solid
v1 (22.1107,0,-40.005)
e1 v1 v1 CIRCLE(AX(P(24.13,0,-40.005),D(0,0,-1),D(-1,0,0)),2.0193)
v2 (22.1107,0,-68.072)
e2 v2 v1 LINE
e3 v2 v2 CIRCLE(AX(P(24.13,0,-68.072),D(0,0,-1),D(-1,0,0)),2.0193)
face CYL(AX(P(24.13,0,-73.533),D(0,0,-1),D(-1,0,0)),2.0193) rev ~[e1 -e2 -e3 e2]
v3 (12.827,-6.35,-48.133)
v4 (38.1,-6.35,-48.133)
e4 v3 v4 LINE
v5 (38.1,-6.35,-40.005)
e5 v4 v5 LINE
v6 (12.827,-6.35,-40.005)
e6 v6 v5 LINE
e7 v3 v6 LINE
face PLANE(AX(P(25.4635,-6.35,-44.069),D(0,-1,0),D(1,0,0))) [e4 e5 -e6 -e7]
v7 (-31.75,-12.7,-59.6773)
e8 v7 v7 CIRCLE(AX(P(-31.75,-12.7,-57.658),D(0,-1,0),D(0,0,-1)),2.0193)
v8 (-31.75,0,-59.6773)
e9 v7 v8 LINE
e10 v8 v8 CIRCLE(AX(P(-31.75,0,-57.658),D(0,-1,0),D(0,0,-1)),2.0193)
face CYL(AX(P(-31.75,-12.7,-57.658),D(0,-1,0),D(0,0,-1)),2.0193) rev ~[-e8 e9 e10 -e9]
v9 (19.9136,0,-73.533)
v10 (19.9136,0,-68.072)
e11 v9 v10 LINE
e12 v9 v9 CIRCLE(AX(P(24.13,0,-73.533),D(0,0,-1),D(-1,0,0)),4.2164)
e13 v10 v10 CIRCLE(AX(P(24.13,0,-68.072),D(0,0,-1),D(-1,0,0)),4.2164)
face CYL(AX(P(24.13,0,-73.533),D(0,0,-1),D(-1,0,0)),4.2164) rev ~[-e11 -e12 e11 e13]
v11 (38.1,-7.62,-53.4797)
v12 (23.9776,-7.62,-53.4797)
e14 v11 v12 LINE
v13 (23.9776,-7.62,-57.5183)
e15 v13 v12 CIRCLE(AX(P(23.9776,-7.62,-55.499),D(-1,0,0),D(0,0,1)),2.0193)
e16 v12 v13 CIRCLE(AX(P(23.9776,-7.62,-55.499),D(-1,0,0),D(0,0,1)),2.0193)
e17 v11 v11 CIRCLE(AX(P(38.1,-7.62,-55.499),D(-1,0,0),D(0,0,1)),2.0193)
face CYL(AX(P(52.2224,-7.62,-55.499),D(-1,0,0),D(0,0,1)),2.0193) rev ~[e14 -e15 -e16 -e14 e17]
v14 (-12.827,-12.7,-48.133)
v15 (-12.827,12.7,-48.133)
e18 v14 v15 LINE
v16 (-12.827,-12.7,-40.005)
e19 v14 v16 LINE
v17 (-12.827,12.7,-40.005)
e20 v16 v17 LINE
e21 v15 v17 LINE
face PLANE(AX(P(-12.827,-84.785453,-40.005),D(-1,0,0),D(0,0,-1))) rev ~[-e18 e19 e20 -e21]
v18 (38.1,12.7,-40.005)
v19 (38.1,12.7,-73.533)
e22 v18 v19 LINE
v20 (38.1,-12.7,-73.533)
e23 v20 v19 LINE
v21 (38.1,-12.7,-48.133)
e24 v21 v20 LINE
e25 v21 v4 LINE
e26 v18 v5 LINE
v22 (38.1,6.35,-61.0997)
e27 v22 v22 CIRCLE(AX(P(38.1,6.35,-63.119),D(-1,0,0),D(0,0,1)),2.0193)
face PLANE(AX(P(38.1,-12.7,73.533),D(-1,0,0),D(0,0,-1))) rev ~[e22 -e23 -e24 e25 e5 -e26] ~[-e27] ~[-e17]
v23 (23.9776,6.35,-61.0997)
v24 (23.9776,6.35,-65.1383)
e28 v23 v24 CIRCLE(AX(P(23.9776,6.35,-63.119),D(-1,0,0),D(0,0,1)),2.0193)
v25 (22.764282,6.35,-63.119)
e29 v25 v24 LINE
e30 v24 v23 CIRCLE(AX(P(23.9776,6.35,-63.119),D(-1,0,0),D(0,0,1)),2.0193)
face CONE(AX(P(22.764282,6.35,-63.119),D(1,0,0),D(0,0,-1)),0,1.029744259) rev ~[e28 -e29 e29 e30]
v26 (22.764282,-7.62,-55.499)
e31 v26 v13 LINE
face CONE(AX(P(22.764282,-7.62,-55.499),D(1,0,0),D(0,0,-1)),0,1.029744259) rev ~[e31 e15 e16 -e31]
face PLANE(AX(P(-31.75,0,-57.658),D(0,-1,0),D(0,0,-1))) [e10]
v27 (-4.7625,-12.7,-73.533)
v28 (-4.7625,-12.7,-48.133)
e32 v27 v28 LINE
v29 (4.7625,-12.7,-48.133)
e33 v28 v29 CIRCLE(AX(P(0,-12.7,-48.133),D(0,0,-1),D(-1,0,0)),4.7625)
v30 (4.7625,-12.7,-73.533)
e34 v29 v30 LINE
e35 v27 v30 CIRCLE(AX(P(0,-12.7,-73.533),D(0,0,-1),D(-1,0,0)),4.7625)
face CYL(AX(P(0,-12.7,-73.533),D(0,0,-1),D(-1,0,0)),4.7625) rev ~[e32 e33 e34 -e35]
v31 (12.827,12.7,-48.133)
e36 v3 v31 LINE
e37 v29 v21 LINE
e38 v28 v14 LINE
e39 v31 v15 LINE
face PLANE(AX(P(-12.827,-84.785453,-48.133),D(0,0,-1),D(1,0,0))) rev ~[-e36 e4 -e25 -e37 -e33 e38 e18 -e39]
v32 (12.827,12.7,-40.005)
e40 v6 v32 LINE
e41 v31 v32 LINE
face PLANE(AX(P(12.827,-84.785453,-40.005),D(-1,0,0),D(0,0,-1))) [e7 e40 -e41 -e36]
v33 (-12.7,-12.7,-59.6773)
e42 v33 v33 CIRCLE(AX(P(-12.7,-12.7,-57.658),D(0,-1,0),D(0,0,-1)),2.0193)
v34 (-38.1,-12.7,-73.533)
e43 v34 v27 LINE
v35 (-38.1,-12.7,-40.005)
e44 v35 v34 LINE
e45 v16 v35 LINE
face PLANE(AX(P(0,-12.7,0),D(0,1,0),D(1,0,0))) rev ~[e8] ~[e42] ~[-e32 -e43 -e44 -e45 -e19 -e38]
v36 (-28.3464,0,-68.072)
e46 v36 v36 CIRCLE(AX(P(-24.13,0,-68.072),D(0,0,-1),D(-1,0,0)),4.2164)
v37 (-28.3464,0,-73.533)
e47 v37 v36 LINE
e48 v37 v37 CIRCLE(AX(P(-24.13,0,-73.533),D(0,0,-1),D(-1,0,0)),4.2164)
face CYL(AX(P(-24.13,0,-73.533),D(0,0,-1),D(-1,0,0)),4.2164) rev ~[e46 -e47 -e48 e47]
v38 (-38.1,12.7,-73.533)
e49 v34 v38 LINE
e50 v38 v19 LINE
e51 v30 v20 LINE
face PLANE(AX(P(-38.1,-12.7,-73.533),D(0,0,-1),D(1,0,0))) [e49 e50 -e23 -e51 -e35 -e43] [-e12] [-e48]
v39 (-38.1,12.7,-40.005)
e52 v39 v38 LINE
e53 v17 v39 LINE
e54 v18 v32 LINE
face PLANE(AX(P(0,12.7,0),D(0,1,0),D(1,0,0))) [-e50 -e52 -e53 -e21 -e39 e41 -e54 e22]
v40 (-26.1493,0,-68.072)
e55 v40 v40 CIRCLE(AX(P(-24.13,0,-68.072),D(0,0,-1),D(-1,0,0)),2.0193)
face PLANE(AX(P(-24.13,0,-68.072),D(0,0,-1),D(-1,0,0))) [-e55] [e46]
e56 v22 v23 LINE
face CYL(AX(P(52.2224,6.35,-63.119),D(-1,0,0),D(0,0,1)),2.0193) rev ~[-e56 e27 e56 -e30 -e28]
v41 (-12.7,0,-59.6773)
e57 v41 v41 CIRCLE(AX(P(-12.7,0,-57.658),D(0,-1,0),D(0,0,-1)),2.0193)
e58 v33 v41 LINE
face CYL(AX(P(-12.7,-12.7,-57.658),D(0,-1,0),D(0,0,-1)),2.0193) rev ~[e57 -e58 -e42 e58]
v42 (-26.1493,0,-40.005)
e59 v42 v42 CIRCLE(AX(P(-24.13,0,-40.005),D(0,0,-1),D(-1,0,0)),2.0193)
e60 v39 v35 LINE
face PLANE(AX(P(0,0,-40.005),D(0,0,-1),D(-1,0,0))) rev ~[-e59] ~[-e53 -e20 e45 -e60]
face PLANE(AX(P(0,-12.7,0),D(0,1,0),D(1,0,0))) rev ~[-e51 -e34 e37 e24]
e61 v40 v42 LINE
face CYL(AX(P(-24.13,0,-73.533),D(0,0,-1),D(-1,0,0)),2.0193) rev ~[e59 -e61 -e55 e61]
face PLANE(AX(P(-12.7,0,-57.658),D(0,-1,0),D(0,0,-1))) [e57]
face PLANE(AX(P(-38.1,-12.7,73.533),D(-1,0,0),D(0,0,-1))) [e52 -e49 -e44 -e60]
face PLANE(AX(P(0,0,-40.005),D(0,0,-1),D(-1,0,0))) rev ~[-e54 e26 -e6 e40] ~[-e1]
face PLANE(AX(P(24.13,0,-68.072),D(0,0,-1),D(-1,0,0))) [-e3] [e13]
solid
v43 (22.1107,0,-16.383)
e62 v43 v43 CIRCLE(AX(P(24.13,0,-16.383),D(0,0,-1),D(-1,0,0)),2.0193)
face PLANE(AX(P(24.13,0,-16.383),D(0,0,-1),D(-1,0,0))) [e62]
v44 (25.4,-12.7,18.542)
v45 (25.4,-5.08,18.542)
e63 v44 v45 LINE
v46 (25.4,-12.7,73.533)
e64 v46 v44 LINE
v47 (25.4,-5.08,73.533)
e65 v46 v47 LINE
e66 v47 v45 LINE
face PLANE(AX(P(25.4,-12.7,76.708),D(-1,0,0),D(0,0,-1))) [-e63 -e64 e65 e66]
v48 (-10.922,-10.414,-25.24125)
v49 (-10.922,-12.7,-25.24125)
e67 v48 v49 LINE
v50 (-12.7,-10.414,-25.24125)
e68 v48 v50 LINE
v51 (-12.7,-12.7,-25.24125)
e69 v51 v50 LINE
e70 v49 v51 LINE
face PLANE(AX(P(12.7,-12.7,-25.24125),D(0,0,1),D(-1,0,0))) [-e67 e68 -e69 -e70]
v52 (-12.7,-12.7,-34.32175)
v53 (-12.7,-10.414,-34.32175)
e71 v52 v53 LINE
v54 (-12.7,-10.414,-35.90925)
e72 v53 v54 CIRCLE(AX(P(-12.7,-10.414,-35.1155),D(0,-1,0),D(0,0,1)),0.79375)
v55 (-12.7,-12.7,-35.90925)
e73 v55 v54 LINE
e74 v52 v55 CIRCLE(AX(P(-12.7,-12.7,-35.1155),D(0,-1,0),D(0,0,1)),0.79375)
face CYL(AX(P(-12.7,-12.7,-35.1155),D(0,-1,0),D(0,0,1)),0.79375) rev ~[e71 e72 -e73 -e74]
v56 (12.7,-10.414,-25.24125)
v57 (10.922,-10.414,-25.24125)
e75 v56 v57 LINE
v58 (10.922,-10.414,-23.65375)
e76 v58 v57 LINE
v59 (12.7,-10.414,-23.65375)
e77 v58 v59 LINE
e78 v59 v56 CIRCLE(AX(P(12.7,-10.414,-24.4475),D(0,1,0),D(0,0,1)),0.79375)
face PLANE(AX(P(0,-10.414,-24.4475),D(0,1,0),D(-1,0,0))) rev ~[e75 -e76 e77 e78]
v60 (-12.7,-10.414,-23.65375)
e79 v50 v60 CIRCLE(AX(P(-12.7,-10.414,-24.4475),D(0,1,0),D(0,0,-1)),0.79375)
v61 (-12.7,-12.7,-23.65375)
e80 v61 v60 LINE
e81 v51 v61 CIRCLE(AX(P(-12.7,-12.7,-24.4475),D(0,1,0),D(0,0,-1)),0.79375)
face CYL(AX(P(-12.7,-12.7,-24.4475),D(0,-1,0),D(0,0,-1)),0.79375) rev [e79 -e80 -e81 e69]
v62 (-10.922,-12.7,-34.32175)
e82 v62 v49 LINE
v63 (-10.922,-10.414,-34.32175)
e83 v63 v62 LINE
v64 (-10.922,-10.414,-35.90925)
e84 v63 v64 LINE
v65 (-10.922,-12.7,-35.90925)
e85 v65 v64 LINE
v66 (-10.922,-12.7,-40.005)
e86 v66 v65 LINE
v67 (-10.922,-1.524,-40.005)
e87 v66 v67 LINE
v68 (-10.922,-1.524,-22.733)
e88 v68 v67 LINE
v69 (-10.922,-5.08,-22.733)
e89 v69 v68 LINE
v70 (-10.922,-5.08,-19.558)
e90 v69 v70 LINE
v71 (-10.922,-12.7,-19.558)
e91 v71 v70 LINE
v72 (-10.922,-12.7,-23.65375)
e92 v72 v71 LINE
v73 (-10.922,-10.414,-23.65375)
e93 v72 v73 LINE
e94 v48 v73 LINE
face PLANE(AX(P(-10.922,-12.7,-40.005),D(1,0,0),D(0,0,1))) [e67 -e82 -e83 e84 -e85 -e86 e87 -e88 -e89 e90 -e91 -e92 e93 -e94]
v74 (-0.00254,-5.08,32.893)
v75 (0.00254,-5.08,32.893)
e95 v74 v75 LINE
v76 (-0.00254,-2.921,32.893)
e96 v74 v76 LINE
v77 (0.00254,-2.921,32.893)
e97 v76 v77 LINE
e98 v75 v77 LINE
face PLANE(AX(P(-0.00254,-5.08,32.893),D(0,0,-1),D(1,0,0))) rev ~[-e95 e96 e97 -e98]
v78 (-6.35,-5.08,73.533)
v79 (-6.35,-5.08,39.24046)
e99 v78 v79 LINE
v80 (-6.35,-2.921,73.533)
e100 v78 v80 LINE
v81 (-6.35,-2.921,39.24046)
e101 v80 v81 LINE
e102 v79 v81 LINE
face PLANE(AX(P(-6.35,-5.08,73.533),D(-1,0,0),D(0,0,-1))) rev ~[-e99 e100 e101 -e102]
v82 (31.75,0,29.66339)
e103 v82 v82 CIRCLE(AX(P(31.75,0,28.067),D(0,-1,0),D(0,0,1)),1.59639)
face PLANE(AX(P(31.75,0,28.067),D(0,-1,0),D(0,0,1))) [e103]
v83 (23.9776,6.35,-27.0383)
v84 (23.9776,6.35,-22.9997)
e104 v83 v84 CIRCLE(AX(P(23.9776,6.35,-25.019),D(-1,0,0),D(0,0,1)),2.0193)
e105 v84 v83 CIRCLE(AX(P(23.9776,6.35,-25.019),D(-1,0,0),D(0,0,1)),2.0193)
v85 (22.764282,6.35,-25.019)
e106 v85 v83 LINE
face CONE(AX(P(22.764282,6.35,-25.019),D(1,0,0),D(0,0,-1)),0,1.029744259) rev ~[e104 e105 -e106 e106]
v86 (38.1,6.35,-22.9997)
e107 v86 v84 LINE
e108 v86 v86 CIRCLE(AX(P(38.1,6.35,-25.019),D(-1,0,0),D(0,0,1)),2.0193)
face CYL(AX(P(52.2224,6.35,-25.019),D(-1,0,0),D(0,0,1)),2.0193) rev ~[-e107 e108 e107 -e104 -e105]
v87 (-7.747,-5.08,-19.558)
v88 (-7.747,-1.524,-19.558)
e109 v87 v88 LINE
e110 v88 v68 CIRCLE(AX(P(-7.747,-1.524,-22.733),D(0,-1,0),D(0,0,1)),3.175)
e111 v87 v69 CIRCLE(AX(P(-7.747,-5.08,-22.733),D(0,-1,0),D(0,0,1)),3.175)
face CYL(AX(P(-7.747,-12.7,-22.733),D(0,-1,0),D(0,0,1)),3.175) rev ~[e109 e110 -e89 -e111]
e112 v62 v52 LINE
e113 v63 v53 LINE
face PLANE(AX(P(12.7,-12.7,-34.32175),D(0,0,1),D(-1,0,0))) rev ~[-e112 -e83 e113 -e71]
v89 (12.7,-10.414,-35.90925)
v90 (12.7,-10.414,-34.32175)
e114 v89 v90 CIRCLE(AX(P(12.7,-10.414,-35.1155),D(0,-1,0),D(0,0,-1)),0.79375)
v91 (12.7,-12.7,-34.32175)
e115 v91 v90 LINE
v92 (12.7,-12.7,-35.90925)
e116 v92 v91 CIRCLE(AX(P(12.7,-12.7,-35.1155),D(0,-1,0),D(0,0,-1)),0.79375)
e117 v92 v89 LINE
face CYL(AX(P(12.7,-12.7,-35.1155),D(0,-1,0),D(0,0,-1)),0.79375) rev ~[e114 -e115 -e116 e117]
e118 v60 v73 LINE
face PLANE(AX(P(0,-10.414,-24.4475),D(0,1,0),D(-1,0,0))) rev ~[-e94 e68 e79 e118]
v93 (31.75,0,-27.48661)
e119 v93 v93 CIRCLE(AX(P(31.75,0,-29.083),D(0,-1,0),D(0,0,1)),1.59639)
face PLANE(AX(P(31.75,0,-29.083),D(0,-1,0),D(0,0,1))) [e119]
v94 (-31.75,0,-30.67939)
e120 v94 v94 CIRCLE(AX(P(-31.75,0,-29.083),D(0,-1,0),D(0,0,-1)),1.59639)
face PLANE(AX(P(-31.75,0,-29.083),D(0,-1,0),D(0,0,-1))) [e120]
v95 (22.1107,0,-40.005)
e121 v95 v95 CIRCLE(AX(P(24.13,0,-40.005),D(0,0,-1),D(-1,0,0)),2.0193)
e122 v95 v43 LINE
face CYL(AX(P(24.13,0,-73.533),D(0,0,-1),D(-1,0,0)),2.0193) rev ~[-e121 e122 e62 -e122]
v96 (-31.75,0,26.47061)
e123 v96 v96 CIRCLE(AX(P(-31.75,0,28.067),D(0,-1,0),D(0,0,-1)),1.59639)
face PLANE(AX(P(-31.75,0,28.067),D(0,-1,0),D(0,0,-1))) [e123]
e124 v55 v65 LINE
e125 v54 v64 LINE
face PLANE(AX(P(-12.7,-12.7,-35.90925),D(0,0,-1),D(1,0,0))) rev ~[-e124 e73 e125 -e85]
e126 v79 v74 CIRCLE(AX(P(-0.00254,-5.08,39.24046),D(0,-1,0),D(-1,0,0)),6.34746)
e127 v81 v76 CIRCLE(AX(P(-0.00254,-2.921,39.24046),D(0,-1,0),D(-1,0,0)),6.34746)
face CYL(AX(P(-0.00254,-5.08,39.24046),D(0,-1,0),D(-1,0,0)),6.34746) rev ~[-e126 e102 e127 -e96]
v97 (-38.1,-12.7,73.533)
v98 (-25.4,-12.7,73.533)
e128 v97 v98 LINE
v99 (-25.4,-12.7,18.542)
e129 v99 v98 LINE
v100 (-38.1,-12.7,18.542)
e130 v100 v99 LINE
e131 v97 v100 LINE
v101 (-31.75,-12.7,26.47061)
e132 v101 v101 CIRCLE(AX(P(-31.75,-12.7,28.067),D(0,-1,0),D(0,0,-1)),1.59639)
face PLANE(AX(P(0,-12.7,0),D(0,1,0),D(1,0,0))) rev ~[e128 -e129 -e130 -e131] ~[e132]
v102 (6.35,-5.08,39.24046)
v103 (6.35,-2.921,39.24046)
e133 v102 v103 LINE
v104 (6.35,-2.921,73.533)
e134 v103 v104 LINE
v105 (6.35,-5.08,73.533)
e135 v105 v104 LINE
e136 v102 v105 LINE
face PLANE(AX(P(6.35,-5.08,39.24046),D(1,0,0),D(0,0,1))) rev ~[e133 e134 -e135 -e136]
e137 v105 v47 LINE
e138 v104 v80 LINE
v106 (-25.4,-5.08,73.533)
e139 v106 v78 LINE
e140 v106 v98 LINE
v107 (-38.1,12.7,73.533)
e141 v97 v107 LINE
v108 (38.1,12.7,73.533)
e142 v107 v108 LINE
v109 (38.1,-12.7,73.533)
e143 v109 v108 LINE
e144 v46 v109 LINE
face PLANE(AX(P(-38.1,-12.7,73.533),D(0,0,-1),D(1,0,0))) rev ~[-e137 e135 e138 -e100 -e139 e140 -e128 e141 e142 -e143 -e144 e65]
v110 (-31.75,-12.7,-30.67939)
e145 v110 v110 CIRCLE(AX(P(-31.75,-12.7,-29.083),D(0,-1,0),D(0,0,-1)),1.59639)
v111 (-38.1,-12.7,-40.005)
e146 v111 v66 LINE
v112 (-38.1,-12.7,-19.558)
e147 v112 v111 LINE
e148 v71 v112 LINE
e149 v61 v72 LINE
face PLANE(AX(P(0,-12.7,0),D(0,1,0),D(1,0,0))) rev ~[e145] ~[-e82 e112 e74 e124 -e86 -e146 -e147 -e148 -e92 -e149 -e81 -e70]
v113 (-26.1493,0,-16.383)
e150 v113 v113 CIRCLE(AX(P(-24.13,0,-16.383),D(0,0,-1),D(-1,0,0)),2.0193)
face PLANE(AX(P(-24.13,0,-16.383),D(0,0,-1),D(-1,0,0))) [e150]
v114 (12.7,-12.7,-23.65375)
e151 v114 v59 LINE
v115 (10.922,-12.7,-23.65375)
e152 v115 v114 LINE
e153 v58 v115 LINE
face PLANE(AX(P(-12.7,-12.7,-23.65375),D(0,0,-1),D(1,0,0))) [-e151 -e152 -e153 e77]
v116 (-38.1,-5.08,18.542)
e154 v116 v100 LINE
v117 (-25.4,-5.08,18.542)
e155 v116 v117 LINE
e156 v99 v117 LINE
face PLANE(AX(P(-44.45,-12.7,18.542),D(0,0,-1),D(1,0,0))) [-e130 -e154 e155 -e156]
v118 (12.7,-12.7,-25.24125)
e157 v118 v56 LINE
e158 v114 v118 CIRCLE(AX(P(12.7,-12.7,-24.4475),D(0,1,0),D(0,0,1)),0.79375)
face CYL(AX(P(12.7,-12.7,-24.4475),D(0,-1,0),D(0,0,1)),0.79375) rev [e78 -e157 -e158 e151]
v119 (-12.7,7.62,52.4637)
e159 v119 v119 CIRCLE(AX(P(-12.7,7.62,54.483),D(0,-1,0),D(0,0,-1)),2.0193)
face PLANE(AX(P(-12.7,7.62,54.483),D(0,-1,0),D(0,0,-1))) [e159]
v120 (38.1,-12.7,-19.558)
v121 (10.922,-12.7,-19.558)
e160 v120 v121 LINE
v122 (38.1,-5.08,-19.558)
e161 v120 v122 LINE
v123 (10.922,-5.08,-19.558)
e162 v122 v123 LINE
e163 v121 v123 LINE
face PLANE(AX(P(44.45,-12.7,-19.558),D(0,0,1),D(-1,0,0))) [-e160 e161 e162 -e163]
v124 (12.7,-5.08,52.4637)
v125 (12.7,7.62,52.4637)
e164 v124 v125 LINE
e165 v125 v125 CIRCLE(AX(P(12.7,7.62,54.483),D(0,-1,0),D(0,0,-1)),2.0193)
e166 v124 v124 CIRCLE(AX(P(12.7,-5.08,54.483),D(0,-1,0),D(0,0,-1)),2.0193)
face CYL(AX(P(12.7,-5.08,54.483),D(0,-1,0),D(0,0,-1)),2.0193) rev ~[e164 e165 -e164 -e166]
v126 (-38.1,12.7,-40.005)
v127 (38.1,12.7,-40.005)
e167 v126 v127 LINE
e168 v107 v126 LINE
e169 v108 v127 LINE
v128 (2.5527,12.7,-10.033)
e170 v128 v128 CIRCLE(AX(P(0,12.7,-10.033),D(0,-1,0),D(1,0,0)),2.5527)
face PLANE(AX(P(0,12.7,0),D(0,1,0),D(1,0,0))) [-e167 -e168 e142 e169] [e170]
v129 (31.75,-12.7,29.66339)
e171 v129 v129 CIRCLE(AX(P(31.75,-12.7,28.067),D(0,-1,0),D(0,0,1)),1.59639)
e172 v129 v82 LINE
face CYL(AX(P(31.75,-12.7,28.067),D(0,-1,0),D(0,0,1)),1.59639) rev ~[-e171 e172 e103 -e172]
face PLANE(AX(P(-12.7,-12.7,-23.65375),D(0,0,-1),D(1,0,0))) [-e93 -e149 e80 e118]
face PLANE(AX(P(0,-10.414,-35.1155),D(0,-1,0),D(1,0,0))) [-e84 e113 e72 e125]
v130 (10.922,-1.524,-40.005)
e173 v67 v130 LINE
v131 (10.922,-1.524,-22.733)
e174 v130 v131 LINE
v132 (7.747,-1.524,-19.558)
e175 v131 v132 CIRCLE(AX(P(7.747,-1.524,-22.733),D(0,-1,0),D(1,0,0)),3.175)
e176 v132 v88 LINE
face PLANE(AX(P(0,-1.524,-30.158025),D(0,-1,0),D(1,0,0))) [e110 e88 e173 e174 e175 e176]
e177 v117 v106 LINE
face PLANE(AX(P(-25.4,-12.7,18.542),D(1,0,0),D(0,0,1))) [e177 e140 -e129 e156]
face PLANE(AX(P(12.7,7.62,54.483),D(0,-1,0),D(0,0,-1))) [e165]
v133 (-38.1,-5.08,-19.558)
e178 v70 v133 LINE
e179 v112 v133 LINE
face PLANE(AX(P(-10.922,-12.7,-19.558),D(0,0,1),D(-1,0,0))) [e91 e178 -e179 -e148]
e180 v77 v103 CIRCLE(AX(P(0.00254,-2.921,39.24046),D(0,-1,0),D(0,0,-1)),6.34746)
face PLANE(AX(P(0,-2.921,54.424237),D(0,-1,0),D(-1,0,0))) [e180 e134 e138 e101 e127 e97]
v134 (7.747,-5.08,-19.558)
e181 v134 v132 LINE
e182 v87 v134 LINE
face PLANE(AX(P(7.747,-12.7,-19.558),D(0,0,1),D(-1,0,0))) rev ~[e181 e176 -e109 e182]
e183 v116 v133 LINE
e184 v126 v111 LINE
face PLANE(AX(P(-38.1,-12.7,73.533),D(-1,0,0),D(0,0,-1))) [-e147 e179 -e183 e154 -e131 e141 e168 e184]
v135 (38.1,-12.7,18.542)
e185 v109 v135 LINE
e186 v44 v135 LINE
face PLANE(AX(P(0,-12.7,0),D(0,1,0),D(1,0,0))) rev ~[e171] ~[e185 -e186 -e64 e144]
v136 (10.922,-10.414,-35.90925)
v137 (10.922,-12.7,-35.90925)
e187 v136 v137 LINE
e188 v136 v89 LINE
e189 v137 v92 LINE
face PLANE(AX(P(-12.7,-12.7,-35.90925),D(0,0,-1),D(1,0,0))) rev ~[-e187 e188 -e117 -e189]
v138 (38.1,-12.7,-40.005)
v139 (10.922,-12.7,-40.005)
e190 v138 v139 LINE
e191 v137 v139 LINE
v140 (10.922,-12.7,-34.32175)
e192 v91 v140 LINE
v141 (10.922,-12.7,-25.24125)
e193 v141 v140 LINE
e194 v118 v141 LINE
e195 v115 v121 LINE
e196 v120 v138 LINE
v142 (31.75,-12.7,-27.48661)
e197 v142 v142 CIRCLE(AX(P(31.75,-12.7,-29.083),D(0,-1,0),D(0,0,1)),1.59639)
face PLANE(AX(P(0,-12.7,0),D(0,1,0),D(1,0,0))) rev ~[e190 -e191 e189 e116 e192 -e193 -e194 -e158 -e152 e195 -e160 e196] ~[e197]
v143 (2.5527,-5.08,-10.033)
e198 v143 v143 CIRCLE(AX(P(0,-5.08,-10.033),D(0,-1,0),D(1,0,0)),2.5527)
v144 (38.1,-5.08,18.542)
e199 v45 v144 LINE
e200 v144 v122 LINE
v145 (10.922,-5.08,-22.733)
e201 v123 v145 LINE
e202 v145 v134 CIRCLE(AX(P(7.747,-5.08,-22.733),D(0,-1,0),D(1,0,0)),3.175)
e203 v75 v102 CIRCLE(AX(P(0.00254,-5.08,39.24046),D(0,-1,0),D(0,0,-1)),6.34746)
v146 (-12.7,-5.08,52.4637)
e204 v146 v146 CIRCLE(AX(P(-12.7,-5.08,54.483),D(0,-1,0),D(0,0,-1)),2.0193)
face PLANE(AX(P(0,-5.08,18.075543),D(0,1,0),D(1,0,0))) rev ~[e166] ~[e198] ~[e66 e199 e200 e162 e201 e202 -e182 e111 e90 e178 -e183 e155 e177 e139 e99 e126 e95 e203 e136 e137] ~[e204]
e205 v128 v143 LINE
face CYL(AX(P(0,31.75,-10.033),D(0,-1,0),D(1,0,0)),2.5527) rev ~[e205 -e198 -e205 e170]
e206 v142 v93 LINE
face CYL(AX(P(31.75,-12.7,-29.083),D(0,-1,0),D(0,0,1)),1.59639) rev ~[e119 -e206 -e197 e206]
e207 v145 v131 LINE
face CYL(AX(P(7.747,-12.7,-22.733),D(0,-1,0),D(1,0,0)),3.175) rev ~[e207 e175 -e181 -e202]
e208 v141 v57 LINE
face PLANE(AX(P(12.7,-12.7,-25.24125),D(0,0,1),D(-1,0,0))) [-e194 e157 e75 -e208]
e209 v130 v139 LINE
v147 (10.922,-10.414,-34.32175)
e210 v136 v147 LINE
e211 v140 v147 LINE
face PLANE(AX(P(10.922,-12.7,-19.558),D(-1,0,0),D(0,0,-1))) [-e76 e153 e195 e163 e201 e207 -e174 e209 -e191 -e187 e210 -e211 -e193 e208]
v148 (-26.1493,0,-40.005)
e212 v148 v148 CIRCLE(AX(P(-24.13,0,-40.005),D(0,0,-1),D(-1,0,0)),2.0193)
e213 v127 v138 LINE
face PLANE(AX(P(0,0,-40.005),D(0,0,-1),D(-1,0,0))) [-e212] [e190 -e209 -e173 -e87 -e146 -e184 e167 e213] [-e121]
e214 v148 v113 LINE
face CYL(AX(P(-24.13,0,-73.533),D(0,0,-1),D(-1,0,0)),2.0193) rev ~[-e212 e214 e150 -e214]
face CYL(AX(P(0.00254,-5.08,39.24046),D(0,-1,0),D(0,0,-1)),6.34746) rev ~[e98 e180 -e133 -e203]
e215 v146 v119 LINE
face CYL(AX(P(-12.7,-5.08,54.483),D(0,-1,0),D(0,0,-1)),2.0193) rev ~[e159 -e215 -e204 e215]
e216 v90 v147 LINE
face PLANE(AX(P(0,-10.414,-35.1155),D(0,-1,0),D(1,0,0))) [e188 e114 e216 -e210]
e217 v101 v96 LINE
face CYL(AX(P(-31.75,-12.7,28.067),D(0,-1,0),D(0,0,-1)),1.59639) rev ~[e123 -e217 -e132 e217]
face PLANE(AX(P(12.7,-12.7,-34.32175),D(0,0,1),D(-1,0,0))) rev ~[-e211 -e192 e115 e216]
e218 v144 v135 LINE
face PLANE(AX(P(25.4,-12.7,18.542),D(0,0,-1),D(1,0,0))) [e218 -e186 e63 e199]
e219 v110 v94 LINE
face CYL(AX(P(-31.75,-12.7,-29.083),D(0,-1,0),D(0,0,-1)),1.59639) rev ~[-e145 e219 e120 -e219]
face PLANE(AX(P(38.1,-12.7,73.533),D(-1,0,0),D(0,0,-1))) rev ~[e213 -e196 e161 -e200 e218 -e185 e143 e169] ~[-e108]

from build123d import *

# Parameters (mm, degrees)
BOSS_EXTRUDE1_DEPTH         = 12.7
BOSS_EXTRUDE1_DEPTH_BACK    = 12.7
SKETCH1_W                   = 76.2
SKETCH1_H                   = 147.066
SKETCH2_R                   = 4.7625
CUT_EXTRUDE1_DEPTH          = 25.4
CUT_EXTRUDE2_DEPTH          = 7.62
CUT_EXTRUDE4_DEPTH          = 84.785452729
CUT_EXTRUDE4_DEPTH_BACK     = 84.785452729
SKETCH5_W                   = 25.654
SKETCH5_H                   = 8.128
F_1_4_20_TAPPED_HOLE1_D     = 5.1054
F_1_4_20_TAPPED_HOLE1_DEPTH = 19.05
F_1_4_20_TAPPED_HOLE1_TIP   = 1.533816902
SKETCH9_R                   = 1.59639
F_8_32_TAPPED_HOLE_DEPTH    = 12.7
CUT_EXTRUDE7_DEPTH          = 2.159
SKETCH12_R                  = 2.0193
CUT_EXTRUDE8_DEPTH          = 12.7
SKETCH13_W                  = 25.273
SKETCH13_H                  = 8.128
CUT_EXTRUDE9_DEPTH          = 6.35
SKETCH15_R                  = 2.0193
CUT_EXTRUDE11_DEPTH         = 57.15
SKETCH17_R                  = 4.2164
CUT_EXTRUDE12_DEPTH         = 5.461
SKETCH19_R                  = 2.0193
CUT_EXTRUDE14_DEPTH         = 12.7
CUT_EXTRUDE16_DEPTH         = 2.286
CUT_EXTRUDE18_DEPTH         = 11.176
F_10_32_TAPPED_HOLE1_D      = 4.0386
F_10_32_TAPPED_HOLE1_DEPTH  = 14.1224
F_10_32_TAPPED_HOLE1_TIP    = 1.213317848


with BuildPart() as part:
    # Sketch1 → Boss-Extrude1 (new, two sides: drawn at the far end of the back side and taken through both)
    with BuildSketch(Plane(origin=(0, 0, 0), x_dir=(1, 0, 0), z_dir=(0, 1, 0)).offset(-BOSS_EXTRUDE1_DEPTH_BACK)):
        Rectangle(SKETCH1_W, SKETCH1_H)
    extrude(amount=BOSS_EXTRUDE1_DEPTH + BOSS_EXTRUDE1_DEPTH_BACK)

    # Sketch2 → Cut-Extrude1 (cut)
    with BuildSketch(Plane(origin=(0, 0, -73.533), x_dir=(-1, 0, 0), z_dir=(0, 0, -1))):
        with Locations((0, -12.7)):
            Circle(SKETCH2_R)
    extrude(amount=-CUT_EXTRUDE1_DEPTH, mode=Mode.SUBTRACT)

    # Sketch3 → Cut-Extrude2 (cut)
    with BuildSketch(Plane(origin=(0, -12.7, 0), x_dir=(-1, 0, 0), z_dir=(0, -1, 0))):
        with BuildLine():
            Line((10.922, 19.558), (44.45, 19.558))
            Line((44.45, 19.558), (44.45, -18.542))
            Line((44.45, -18.542), (25.4, -18.542))
            Line((25.4, -18.542), (25.4, -76.708))
            ThreePointArc((25.4, -76.708), (23.540128061, -81.198128061), (19.05, -83.058))
            Line((19.05, -83.058), (-19.05, -83.058))
            ThreePointArc((-19.05, -83.058), (-23.540128061, -81.198128061), (-25.4, -76.708))
            Line((-25.4, -76.708), (-25.4, -18.542))
            Line((-25.4, -18.542), (-44.45, -18.542))
            Line((-44.45, -18.542), (-44.45, 19.558))
            Line((-44.45, 19.558), (-10.922, 19.558))
            Line((-10.922, 19.558), (-10.922, 40.005))
            Line((-10.922, 40.005), (10.922, 40.005))
            Line((10.922, 40.005), (10.922, 19.558))
        make_face()
    extrude(amount=-CUT_EXTRUDE2_DEPTH, mode=Mode.SUBTRACT)

    # Sketch5 → Cut-Extrude4 (cut, two sides: drawn at the far end of the back side and taken through both)
    with BuildSketch(Plane(origin=(0, 0, 0), x_dir=(1, 0, 0), z_dir=(0, 1, 0)).offset(-CUT_EXTRUDE4_DEPTH_BACK)):
        with Locations((0, 44.069)):
            Rectangle(SKETCH5_W, SKETCH5_H)
    extrude(amount=CUT_EXTRUDE4_DEPTH + CUT_EXTRUDE4_DEPTH_BACK, mode=Mode.SUBTRACT)

    # 1/4-20 Tapped Hole1
    with Locations(Plane(origin=(-11.034450397, 12.7, 14.547513529), x_dir=(-1, 0, 0), z_dir=(0, 1, 0))):
        with Locations((-11.034450397, -24.580513529)):
            Hole(F_1_4_20_TAPPED_HOLE1_D / 2, depth=F_1_4_20_TAPPED_HOLE1_DEPTH)
            with Locations((0, 0, -(F_1_4_20_TAPPED_HOLE1_DEPTH + F_1_4_20_TAPPED_HOLE1_TIP / 2))):  # 118° drill point
                Cone(0, F_1_4_20_TAPPED_HOLE1_D / 2, F_1_4_20_TAPPED_HOLE1_TIP, mode=Mode.SUBTRACT)

    # Sketch9 → 8-32 Tapped Hole (cut)
    with BuildSketch(Plane(origin=(0, -12.7, 0), x_dir=(-1, 0, 0), z_dir=(0, -1, 0))):
        with Locations((31.75, 29.083)):
            Circle(SKETCH9_R)
        with Locations((31.75, -28.067)):
            Circle(SKETCH9_R)
        with Locations((-31.75, -28.067)):
            Circle(SKETCH9_R)
        with Locations((-31.75, 29.083)):
            Circle(SKETCH9_R)
    extrude(amount=-F_8_32_TAPPED_HOLE_DEPTH, mode=Mode.SUBTRACT)

    # Sketch11 → Cut-Extrude7 (cut)
    with BuildSketch(Plane(origin=(0, -5.08, 0), x_dir=(-1, 0, 0), z_dir=(0, -1, 0))):
        with BuildLine():
            Line((0.00254, -32.893), (-0.00254, -32.893))
            ThreePointArc((-0.00254, -32.893), (-4.490872009, -34.752127991), (-6.35, -39.24046))
            Line((-6.35, -39.24046), (-6.35, -73.533))
            Line((-6.35, -73.533), (6.35, -73.533))
            Line((6.35, -73.533), (6.35, -39.24046))
            ThreePointArc((6.35, -39.24046), (4.490872009, -34.752127991), (0.00254, -32.893))
        make_face()
    extrude(amount=-CUT_EXTRUDE7_DEPTH, mode=Mode.SUBTRACT)

    # Sketch12 → Cut-Extrude8 (cut)
    with BuildSketch(Plane.XZ.offset(5.08)):
        with Locations((12.7, 54.483)):
            Circle(SKETCH12_R)
        with Locations((-12.7, 54.483)):
            Circle(SKETCH12_R)
    extrude(amount=-CUT_EXTRUDE8_DEPTH, mode=Mode.SUBTRACT)

    # Sketch13 → Cut-Extrude9 (cut)
    with BuildSketch(Plane.XZ.offset(12.7)):
        with Locations((25.4635, -44.069)):
            Rectangle(SKETCH13_W, SKETCH13_H)
    extrude(amount=-CUT_EXTRUDE9_DEPTH, mode=Mode.SUBTRACT)

    # Sketch15 → Cut-Extrude11 (cut)
    with BuildSketch(Plane(origin=(0, 0, -73.533), x_dir=(-1, 0, 0), z_dir=(0, 0, -1))):
        with Locations((-24.13, 0)):
            Circle(SKETCH15_R)
        with Locations((24.13, 0)):
            Circle(SKETCH15_R)
    extrude(amount=-CUT_EXTRUDE11_DEPTH, mode=Mode.SUBTRACT)

    # Sketch17 → Cut-Extrude12 (cut)
    with BuildSketch(Plane(origin=(0, 0, -73.533), x_dir=(-1, 0, 0), z_dir=(0, 0, -1))):
        with Locations((-24.13, 0)):
            Circle(SKETCH17_R)
        with Locations((24.13, 0)):
            Circle(SKETCH17_R)
    extrude(amount=-CUT_EXTRUDE12_DEPTH, mode=Mode.SUBTRACT)

    # Sketch19 → Cut-Extrude14 (cut)
    with BuildSketch(Plane.XZ.offset(12.7)):
        with Locations((-31.75, -57.658)):
            Circle(SKETCH19_R)
        with Locations((-12.7, -57.658)):
            Circle(SKETCH19_R)
    extrude(amount=-CUT_EXTRUDE14_DEPTH, mode=Mode.SUBTRACT)

    # Sketch22 → Cut-Extrude16 (cut)
    with BuildSketch(Plane.XZ.offset(12.7)):
        with BuildLine():
            Line((-12.7, -35.90925), (12.7, -35.90925))
            ThreePointArc((12.7, -35.90925), (13.49375, -35.1155), (12.7, -34.32175))
            Line((12.7, -34.32175), (-12.7, -34.32175))
            ThreePointArc((-12.7, -34.32175), (-13.49375, -35.1155), (-12.7, -35.90925))
        make_face()
        with BuildLine():
            Line((-12.7, -23.65375), (12.7, -23.65375))
            ThreePointArc((12.7, -23.65375), (13.49375, -24.4475), (12.7, -25.24125))
            Line((12.7, -25.24125), (-12.7, -25.24125))
            ThreePointArc((-12.7, -25.24125), (-13.49375, -24.4475), (-12.7, -23.65375))
        make_face()
    extrude(amount=-CUT_EXTRUDE16_DEPTH, mode=Mode.SUBTRACT)

    # Sketch23 → Cut-Extrude18 (cut)
    with BuildSketch(Plane.XZ.offset(12.7)):
        with BuildLine():
            Line((-10.922, -40.005), (10.922, -40.005))
            Line((10.922, -40.005), (10.922, -22.733))
            ThreePointArc((10.922, -22.733), (9.99206403, -20.48793597), (7.747, -19.558))
            Line((7.747, -19.558), (-7.747, -19.558))
            ThreePointArc((-7.747, -19.558), (-9.99206403, -20.48793597), (-10.922, -22.733))
            Line((-10.922, -22.733), (-10.922, -40.005))
        make_face()
    extrude(amount=-CUT_EXTRUDE18_DEPTH, mode=Mode.SUBTRACT)

    # #10-32 Tapped Hole1
    with Locations(Plane(origin=(38.1, 0, 0), x_dir=(0, 0, -1), z_dir=(1, 0, 0))):
        with Locations((63.119, 6.35), (55.499, -7.62), (25.019, 6.35)):
            Hole(F_10_32_TAPPED_HOLE1_D / 2, depth=F_10_32_TAPPED_HOLE1_DEPTH)
            with Locations((0, 0, -(F_10_32_TAPPED_HOLE1_DEPTH + F_10_32_TAPPED_HOLE1_TIP / 2))):  # 118° drill point
                Cone(0, F_10_32_TAPPED_HOLE1_D / 2, F_10_32_TAPPED_HOLE1_TIP, mode=Mode.SUBTRACT)


with BuildPart() as body_2:
    # Split1: the piece on the far side of the plane
    add(part.part)
    split(bisect_by=Plane(origin=(0, 0, -40.005), x_dir=(-1, 0, 0), z_dir=(0, 0, -1)), keep=Keep.BOTTOM)


with BuildPart() as part_1:
    add(part.part)

    # Split1
    split(bisect_by=Plane(origin=(0, 0, -40.005), x_dir=(-1, 0, 0), z_dir=(0, 0, -1)), keep=Keep.TOP)


solid = Compound([body_2.part, part_1.part])
